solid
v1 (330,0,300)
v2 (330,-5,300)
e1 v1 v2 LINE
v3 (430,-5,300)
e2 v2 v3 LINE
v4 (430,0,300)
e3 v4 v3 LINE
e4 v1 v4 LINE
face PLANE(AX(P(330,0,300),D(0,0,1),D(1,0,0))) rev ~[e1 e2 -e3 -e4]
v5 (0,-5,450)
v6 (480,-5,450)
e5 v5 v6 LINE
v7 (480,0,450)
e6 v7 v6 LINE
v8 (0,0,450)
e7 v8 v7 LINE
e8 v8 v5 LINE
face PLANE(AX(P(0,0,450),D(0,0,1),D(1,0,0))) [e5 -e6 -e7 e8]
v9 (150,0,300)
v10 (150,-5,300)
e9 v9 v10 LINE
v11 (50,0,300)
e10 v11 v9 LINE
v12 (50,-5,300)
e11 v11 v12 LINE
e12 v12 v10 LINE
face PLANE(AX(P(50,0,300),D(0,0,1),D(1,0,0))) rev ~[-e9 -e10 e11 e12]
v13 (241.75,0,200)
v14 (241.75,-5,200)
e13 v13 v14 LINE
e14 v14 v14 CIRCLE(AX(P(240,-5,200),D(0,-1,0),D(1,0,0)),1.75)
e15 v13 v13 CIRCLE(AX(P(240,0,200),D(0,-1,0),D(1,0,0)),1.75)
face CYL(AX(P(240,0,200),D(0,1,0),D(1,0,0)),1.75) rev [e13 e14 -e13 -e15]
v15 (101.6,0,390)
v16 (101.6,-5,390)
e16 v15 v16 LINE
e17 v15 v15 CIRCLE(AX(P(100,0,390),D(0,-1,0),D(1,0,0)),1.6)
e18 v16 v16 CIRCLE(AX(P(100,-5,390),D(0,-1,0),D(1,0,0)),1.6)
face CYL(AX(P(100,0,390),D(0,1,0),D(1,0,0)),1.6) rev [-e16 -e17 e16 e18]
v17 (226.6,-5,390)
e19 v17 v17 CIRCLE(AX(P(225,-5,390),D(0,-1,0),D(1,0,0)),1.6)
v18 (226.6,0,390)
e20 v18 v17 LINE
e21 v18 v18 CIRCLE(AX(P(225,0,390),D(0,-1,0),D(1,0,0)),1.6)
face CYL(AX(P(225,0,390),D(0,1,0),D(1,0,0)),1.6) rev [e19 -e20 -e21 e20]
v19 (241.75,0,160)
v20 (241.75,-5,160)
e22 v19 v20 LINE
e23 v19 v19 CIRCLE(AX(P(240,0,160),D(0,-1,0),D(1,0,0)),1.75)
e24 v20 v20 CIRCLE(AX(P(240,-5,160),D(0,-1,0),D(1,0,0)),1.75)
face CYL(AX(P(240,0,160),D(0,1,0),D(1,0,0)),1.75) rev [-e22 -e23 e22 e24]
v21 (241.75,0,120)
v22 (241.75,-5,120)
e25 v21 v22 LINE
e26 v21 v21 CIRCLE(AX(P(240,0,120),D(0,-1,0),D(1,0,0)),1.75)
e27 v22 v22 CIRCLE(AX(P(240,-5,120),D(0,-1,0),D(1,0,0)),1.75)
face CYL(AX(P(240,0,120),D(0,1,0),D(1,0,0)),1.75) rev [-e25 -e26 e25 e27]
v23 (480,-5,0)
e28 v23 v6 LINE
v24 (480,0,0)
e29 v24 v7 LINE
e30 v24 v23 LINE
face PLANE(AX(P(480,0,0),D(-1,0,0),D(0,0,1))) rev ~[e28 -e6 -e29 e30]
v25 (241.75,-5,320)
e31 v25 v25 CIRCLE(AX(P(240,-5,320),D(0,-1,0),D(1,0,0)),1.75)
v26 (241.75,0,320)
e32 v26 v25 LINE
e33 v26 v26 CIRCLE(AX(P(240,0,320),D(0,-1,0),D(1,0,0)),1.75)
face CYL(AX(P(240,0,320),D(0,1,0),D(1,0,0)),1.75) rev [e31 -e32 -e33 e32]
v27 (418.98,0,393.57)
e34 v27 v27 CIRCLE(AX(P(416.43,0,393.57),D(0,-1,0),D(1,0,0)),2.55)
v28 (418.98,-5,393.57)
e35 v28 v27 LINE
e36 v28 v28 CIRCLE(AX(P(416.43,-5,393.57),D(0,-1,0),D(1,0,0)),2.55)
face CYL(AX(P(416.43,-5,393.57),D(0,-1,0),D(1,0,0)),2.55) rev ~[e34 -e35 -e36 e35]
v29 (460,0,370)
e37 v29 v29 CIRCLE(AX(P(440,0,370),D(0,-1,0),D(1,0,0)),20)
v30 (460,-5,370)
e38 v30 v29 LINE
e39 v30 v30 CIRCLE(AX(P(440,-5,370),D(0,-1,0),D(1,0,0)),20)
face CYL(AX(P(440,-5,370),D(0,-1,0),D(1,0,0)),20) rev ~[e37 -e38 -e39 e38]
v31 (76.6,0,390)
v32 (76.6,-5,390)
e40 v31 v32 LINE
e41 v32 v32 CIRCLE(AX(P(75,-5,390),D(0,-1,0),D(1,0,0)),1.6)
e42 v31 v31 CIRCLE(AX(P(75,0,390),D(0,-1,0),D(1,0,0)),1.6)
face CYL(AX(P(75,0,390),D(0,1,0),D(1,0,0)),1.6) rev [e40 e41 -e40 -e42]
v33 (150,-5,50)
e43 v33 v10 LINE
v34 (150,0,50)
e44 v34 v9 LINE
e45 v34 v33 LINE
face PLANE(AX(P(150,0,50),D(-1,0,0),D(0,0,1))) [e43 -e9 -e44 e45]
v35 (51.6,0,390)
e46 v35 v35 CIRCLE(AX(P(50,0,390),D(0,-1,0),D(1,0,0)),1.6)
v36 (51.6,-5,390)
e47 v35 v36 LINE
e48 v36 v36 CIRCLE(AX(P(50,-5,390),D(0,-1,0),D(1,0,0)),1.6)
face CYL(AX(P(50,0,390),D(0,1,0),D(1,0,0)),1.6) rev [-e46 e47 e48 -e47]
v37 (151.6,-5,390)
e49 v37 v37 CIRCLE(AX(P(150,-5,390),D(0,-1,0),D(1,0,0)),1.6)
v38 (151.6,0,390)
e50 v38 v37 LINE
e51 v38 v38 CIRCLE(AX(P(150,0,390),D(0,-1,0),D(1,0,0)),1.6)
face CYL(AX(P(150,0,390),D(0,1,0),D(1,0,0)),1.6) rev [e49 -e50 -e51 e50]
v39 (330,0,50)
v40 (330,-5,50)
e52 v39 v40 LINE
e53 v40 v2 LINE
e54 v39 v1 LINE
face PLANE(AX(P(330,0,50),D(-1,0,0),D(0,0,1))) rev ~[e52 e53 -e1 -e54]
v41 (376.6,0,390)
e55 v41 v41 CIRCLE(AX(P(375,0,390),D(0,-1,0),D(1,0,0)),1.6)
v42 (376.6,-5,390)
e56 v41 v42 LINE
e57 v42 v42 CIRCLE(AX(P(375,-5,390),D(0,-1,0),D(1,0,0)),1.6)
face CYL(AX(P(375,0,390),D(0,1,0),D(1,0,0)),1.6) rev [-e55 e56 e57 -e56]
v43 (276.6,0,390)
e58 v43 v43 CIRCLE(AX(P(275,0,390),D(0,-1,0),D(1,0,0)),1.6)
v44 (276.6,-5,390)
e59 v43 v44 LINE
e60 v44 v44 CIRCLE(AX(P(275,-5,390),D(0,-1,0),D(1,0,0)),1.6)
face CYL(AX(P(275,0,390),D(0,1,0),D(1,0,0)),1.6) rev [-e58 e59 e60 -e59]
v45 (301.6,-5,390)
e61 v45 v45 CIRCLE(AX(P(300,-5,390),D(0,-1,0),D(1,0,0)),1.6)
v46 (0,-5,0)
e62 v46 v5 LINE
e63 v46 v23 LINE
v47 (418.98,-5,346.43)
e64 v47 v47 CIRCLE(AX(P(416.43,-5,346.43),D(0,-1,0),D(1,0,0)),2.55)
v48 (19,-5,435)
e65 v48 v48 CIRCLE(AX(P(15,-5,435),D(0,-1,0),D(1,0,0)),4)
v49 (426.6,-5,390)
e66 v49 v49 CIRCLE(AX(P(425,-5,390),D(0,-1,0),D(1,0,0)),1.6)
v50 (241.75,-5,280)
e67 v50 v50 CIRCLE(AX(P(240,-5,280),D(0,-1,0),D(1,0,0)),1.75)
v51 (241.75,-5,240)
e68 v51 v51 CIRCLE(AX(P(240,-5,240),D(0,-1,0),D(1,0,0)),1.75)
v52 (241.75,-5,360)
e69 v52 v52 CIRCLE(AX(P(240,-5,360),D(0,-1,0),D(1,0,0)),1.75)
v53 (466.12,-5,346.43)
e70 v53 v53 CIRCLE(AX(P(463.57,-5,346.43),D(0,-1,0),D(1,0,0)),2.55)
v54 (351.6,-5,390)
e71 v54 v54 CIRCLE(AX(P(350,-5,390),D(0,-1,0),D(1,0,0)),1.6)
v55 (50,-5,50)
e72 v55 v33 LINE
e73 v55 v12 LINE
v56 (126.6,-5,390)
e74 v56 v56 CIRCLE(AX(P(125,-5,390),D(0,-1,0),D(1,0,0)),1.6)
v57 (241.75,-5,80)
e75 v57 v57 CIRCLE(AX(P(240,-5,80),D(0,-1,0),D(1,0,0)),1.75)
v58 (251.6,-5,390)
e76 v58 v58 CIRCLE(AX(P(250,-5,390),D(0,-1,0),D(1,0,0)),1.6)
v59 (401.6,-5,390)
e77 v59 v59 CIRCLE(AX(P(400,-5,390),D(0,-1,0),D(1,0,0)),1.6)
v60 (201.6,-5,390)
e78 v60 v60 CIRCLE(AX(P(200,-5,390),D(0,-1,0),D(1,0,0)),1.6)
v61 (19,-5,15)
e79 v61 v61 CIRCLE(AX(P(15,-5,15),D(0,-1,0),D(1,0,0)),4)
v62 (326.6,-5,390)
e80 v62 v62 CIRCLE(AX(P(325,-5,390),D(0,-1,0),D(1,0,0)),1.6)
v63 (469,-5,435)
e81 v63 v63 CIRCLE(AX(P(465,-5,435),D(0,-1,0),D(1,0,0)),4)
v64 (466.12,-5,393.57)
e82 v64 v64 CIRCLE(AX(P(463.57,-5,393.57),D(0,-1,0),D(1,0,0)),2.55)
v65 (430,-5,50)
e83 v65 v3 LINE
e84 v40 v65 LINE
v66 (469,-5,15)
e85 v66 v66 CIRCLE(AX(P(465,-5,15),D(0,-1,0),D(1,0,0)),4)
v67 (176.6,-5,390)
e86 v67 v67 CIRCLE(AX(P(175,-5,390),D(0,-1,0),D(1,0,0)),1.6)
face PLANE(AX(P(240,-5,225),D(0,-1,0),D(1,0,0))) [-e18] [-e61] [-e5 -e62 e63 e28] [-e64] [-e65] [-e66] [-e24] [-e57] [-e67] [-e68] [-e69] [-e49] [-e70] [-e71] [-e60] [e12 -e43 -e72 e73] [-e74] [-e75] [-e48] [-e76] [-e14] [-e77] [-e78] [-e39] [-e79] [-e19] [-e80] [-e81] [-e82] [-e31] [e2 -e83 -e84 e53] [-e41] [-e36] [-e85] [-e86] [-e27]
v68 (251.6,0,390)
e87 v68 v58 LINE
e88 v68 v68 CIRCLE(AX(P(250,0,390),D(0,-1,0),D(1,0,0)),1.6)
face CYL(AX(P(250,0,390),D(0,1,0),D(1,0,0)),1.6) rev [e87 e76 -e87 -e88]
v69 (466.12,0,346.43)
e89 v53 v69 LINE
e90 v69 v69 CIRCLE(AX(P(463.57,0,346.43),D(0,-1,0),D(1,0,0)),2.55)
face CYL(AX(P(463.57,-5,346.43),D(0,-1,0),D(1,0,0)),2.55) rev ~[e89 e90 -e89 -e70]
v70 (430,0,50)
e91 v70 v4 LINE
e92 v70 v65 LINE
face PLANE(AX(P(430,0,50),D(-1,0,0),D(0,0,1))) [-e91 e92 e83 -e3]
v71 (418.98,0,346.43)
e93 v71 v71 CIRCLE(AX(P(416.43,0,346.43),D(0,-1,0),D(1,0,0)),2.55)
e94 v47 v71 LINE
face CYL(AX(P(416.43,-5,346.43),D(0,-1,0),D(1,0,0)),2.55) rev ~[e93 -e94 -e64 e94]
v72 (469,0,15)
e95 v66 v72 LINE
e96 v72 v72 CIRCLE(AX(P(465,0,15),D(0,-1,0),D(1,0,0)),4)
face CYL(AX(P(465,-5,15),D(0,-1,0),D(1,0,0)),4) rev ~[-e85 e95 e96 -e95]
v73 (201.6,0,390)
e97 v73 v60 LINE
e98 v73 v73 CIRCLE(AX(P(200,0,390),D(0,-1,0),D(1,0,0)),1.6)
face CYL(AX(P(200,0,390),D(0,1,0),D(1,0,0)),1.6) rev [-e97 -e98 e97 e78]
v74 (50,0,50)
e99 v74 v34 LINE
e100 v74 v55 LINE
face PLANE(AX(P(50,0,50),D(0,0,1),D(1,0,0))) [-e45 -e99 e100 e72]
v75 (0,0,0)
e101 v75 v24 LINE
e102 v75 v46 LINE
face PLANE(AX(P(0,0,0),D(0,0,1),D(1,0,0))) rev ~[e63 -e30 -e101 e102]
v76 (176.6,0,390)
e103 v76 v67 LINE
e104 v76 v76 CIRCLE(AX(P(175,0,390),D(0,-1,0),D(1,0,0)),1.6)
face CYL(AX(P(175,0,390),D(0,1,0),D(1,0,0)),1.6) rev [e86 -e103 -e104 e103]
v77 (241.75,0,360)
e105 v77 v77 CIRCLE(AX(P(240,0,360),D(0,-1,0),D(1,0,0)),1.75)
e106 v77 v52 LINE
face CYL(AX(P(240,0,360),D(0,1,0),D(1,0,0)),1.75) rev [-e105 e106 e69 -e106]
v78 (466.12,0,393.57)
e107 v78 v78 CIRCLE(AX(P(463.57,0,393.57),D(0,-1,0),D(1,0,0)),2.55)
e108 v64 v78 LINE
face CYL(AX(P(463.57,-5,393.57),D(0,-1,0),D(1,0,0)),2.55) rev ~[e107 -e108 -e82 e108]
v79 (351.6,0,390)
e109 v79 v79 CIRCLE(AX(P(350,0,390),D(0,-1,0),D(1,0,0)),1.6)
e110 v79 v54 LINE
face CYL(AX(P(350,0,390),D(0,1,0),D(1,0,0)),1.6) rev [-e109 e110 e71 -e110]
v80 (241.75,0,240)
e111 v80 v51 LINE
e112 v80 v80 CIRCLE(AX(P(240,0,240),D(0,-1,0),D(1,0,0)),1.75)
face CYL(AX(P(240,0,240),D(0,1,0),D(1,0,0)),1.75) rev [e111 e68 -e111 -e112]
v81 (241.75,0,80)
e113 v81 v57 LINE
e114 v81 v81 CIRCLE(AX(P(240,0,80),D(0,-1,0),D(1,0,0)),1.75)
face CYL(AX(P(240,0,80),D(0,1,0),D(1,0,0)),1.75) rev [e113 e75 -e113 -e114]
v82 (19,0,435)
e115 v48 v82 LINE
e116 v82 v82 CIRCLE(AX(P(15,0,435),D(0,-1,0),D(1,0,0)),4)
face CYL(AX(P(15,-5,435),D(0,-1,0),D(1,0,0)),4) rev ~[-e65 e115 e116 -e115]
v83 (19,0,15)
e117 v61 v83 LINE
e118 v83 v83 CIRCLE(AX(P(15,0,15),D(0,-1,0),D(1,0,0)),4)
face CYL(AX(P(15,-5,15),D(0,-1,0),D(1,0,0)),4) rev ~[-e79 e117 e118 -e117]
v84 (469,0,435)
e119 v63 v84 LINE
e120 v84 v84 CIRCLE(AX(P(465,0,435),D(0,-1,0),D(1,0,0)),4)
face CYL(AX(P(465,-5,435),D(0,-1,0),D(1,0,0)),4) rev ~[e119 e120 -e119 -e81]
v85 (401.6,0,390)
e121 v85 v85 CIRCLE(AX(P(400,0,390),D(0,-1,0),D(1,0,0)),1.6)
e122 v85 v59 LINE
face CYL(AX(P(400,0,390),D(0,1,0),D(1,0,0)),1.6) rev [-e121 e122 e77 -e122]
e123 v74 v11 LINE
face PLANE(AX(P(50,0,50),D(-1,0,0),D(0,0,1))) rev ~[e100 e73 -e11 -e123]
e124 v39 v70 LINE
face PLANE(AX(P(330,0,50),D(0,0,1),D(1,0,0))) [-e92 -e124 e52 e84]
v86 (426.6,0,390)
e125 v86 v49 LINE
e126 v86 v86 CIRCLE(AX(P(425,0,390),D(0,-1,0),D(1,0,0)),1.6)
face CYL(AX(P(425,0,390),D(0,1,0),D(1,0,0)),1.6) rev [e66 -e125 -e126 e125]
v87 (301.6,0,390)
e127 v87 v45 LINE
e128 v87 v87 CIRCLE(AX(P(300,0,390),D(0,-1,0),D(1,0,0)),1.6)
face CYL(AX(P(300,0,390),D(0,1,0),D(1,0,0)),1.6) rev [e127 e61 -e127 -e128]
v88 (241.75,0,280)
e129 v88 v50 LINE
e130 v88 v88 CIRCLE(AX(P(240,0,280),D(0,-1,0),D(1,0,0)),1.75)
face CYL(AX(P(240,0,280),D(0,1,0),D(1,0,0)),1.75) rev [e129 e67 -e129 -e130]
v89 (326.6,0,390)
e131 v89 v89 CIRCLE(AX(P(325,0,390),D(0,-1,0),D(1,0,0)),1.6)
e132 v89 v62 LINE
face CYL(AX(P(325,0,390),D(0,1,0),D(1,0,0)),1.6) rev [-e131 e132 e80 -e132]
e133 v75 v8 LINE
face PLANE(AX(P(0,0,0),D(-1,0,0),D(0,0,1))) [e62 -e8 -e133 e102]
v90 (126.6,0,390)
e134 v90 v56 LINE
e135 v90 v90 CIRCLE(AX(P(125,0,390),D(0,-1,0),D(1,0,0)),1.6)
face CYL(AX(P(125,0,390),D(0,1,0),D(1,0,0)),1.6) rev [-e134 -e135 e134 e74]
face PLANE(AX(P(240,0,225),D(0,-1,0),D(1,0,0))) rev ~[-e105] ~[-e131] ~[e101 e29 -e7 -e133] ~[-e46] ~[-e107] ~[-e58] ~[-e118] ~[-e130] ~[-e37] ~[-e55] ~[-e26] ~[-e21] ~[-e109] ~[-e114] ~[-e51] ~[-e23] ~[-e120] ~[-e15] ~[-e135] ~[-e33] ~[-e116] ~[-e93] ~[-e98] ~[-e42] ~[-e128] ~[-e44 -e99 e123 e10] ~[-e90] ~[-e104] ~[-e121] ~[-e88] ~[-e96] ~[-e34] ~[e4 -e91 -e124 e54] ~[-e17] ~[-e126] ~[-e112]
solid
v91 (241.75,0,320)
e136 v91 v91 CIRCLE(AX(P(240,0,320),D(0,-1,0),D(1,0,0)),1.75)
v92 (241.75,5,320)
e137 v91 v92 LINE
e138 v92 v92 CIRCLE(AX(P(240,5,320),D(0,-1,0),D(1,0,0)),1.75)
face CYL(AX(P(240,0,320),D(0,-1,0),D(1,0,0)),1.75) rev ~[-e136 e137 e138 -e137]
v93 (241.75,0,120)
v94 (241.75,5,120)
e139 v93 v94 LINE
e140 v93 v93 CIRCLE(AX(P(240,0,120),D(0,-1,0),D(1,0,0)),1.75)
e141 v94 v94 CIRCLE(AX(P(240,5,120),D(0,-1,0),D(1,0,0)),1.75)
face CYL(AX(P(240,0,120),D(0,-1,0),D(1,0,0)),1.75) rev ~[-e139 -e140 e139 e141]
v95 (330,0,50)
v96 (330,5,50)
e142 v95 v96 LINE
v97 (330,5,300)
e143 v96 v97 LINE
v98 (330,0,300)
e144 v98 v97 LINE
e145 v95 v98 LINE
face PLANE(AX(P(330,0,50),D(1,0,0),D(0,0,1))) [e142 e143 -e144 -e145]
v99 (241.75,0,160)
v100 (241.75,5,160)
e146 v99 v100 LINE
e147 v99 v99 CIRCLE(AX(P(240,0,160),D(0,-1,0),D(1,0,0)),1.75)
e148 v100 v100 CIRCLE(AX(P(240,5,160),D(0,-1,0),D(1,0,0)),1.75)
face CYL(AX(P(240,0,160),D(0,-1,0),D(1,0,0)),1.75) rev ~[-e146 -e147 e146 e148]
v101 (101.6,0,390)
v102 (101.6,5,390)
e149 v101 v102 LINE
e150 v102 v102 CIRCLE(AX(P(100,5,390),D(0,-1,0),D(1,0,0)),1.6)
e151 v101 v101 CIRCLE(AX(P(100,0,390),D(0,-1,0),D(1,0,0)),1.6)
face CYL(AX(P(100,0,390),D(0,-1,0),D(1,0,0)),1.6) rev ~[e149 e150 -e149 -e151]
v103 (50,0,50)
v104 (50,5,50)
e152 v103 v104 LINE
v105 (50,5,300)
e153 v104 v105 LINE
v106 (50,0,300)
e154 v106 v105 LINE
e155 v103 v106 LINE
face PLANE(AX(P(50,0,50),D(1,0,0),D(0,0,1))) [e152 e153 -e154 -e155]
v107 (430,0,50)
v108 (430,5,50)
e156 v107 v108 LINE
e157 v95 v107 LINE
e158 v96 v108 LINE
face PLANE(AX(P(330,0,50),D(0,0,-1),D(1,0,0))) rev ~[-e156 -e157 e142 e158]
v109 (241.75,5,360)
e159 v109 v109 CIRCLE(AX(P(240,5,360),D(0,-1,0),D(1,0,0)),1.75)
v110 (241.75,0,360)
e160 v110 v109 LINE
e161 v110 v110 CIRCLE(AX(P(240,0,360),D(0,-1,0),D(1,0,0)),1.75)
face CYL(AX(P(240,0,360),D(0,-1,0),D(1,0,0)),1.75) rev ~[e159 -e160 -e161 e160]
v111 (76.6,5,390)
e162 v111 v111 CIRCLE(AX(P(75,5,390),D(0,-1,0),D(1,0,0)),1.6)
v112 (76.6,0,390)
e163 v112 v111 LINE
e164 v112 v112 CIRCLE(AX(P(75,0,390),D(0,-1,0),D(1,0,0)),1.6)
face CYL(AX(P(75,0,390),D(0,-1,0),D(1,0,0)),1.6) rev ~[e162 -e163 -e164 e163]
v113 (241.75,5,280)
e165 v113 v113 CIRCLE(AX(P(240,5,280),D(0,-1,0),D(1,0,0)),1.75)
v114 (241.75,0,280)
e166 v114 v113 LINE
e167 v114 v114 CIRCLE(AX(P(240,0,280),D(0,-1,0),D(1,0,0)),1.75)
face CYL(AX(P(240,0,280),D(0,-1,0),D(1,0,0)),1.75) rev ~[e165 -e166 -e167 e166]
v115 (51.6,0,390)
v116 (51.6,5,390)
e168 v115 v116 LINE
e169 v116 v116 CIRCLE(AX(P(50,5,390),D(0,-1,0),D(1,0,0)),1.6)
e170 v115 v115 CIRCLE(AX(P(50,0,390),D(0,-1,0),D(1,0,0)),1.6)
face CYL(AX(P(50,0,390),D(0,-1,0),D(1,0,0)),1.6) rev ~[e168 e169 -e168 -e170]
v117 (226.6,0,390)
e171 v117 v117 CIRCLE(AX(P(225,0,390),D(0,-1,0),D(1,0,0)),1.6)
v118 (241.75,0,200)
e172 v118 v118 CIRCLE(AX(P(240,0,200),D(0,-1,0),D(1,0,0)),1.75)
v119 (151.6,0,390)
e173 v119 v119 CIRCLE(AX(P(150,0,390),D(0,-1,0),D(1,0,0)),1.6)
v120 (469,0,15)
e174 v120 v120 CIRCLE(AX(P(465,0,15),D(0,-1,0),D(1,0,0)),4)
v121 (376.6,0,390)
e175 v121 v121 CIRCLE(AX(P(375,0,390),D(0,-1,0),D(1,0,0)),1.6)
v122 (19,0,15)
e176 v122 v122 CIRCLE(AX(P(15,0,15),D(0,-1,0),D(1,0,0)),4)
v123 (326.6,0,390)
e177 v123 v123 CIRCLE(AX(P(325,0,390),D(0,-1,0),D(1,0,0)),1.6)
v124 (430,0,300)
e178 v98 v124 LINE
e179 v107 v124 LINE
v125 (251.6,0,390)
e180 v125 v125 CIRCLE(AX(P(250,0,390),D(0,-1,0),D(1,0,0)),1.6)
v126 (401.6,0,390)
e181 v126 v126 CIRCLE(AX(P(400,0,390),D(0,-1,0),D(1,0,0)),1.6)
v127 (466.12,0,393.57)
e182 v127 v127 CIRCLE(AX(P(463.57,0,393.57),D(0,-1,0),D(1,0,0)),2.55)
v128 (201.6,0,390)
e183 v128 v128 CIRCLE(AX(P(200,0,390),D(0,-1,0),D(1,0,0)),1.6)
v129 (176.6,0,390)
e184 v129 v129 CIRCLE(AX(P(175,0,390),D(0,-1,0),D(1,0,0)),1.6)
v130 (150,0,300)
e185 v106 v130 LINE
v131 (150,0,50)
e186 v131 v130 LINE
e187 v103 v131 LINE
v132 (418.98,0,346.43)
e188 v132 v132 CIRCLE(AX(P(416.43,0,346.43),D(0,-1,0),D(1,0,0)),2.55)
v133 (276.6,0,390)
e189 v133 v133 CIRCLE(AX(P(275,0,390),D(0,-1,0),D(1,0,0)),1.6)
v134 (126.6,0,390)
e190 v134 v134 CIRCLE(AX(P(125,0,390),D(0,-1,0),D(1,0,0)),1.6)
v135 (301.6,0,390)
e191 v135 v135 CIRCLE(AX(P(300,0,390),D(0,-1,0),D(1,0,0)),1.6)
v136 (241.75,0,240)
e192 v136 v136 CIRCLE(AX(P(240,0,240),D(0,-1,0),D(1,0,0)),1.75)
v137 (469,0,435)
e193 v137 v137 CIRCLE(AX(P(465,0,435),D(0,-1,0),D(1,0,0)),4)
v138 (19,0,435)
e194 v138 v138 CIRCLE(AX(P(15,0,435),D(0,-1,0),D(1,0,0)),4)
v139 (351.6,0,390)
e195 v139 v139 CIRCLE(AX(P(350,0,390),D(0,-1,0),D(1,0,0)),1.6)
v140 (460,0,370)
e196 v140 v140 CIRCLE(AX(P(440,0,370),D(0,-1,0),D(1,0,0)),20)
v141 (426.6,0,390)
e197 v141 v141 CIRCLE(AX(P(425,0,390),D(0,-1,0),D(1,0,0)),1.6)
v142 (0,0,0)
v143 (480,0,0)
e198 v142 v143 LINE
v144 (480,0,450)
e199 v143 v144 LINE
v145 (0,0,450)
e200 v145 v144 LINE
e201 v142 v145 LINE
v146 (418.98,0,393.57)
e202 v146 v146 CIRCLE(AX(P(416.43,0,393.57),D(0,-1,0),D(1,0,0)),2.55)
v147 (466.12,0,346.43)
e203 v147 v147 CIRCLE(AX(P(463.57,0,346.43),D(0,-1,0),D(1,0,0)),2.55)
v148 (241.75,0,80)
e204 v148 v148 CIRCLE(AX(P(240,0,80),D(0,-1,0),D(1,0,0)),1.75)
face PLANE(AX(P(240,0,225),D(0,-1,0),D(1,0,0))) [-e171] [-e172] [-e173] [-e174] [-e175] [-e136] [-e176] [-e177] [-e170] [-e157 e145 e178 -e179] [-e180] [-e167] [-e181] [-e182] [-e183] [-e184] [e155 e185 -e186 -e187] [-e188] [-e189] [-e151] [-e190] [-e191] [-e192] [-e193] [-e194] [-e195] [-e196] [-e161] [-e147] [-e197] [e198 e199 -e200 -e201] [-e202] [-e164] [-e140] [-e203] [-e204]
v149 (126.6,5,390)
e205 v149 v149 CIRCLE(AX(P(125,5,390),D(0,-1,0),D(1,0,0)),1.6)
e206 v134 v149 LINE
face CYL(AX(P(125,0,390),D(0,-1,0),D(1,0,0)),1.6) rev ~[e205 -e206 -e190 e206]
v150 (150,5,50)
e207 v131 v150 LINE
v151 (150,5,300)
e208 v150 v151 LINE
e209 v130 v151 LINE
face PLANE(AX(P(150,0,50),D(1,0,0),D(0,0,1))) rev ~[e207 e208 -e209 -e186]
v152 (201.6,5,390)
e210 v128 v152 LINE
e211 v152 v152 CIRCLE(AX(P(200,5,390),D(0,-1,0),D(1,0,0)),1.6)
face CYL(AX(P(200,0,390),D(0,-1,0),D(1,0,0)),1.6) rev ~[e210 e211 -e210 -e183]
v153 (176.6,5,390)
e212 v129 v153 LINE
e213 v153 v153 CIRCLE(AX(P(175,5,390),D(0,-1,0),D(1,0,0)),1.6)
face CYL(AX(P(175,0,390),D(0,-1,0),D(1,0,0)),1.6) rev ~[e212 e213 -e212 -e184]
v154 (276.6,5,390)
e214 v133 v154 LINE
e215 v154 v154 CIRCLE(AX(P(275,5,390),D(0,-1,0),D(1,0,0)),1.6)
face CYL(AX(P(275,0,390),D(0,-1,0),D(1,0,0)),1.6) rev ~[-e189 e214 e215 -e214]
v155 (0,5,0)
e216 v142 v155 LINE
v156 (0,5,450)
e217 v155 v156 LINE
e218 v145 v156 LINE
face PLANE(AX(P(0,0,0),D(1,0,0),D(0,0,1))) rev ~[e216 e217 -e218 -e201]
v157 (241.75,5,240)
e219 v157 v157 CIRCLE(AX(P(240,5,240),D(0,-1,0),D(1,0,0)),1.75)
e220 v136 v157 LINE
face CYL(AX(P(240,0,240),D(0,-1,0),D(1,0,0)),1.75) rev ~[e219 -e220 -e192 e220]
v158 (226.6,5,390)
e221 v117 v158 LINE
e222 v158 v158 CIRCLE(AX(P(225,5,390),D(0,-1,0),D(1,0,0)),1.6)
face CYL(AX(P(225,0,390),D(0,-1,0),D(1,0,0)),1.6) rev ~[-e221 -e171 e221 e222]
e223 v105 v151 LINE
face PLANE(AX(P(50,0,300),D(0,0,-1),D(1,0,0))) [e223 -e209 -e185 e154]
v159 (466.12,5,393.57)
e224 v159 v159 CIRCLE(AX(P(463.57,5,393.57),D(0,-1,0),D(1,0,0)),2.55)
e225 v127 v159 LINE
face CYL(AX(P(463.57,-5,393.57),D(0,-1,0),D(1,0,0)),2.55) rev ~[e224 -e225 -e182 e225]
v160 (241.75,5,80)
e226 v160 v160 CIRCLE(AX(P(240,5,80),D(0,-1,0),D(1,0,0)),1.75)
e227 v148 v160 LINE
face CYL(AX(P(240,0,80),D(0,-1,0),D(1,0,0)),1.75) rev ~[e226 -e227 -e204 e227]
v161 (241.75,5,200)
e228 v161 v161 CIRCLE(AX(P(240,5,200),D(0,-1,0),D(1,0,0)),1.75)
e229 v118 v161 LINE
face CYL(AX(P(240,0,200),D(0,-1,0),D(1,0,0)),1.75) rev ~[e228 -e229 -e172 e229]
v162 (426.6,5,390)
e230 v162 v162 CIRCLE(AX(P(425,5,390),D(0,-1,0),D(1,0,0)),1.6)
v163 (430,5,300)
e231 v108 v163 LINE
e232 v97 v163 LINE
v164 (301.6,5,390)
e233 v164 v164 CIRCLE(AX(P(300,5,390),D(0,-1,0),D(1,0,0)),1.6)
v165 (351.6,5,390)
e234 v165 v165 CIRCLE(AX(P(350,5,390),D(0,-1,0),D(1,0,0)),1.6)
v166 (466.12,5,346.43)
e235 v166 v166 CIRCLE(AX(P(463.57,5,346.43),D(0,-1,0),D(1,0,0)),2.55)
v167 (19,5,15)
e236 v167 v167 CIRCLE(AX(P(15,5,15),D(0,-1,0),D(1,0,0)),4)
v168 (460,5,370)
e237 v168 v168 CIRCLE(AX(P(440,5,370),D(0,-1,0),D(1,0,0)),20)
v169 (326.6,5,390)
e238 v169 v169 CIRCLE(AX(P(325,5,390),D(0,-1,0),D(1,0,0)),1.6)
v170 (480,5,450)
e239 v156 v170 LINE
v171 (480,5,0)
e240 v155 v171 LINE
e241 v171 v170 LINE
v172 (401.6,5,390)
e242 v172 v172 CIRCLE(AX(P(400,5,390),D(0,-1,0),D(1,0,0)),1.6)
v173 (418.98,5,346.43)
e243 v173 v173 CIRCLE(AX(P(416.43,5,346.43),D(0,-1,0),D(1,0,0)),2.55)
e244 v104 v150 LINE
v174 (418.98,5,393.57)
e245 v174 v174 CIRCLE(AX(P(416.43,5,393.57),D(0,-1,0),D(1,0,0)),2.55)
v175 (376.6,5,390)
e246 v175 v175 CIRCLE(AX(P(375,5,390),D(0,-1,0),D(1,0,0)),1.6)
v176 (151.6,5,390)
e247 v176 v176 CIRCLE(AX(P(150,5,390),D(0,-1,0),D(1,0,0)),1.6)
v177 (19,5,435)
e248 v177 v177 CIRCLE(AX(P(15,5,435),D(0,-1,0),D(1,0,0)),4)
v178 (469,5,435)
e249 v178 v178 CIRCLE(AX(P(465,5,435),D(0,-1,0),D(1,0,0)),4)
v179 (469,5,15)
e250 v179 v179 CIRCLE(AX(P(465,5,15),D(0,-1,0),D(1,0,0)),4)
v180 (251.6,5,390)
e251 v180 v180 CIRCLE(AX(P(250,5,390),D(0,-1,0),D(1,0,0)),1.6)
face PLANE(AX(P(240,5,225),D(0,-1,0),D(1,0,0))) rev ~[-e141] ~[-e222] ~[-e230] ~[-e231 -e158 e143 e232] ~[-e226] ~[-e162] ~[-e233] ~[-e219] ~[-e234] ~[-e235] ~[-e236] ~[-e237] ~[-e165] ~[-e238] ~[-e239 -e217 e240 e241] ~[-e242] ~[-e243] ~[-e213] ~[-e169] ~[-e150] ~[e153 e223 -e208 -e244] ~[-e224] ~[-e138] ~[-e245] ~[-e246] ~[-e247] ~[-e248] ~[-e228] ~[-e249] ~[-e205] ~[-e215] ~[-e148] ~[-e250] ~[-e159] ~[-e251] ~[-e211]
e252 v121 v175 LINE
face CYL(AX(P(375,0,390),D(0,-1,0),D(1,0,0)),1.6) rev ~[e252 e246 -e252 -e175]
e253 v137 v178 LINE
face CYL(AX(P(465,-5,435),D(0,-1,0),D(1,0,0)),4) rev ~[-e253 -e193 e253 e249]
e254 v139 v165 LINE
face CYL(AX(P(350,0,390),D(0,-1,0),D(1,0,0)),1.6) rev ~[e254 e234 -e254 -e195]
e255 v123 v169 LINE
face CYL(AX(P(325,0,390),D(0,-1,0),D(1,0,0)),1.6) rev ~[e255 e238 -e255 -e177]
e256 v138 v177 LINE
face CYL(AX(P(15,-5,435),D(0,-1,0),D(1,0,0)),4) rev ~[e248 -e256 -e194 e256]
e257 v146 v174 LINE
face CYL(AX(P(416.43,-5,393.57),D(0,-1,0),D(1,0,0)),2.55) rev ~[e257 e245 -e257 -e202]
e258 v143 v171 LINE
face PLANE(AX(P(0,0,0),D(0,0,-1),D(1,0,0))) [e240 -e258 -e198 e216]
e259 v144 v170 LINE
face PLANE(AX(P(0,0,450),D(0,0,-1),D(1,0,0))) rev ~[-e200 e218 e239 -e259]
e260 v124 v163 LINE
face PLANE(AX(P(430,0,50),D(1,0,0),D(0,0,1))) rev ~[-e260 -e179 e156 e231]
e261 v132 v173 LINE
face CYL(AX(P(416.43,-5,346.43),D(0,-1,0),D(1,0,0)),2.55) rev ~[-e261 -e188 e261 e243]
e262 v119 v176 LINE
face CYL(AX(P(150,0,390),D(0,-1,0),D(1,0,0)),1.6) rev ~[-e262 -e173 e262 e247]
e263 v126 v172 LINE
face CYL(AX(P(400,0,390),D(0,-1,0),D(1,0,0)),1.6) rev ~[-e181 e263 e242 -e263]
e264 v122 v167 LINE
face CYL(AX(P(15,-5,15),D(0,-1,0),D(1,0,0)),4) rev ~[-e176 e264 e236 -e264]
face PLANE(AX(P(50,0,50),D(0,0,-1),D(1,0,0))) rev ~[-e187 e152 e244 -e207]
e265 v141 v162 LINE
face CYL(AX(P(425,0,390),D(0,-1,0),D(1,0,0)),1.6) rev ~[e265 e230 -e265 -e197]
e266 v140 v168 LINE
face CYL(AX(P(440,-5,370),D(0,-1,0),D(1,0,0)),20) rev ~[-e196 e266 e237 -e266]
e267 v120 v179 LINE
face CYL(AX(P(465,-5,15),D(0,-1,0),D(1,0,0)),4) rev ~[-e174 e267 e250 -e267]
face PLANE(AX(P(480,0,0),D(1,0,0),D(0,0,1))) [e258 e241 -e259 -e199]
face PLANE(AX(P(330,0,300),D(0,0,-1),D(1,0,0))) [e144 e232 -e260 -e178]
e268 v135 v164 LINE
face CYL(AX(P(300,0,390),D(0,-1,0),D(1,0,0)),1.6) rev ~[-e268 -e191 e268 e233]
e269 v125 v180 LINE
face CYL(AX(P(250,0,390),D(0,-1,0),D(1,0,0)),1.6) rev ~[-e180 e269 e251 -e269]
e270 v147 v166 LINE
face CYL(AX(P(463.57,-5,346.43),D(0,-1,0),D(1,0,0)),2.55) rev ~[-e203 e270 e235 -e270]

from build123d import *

# Parameters (mm, degrees)
F0_W     = 480
F0_H     = 450
F0_W_2   = 100
F0_H_2   = 250
F0_R     = 1.75
F0_R_2   = 1.6
F1_DEPTH = 5
F2_DEPTH = 5
F3_R     = 2.55
F3_R_2   = 20
F3_R_3   = 4
F4_DEPTH = 10.001


with BuildPart() as f1:
    # F0 (on Front) → F1 (new body)
    with BuildSketch(Plane.XZ):
        with Locations((240, 225)):
            Rectangle(F0_W, F0_H)
        with Locations((100, 175)):
            Rectangle(F0_W_2, F0_H_2, mode=Mode.SUBTRACT)
        with Locations((240, 80)):
            Circle(F0_R, mode=Mode.SUBTRACT)
        with Locations((240, 120)):
            Circle(F0_R, mode=Mode.SUBTRACT)
        with Locations((240, 160)):
            Circle(F0_R, mode=Mode.SUBTRACT)
        with Locations((240, 200)):
            Circle(F0_R, mode=Mode.SUBTRACT)
        with Locations((380, 175)):
            Rectangle(F0_W_2, F0_H_2, mode=Mode.SUBTRACT)
        with Locations((50, 390)):
            Circle(F0_R_2, mode=Mode.SUBTRACT)
        with Locations((75, 390)):
            Circle(F0_R_2, mode=Mode.SUBTRACT)
        with Locations((100, 390)):
            Circle(F0_R_2, mode=Mode.SUBTRACT)
        with Locations((125, 390)):
            Circle(F0_R_2, mode=Mode.SUBTRACT)
        with Locations((150, 390)):
            Circle(F0_R_2, mode=Mode.SUBTRACT)
        with Locations((175, 390)):
            Circle(F0_R_2, mode=Mode.SUBTRACT)
        with Locations((200, 390)):
            Circle(F0_R_2, mode=Mode.SUBTRACT)
        with Locations((225, 390)):
            Circle(F0_R_2, mode=Mode.SUBTRACT)
        with Locations((240, 240)):
            Circle(F0_R, mode=Mode.SUBTRACT)
        with Locations((240, 280)):
            Circle(F0_R, mode=Mode.SUBTRACT)
        with Locations((240, 320)):
            Circle(F0_R, mode=Mode.SUBTRACT)
        with Locations((240, 360)):
            Circle(F0_R, mode=Mode.SUBTRACT)
        with Locations((250, 390)):
            Circle(F0_R_2, mode=Mode.SUBTRACT)
        with Locations((275, 390)):
            Circle(F0_R_2, mode=Mode.SUBTRACT)
        with Locations((300, 390)):
            Circle(F0_R_2, mode=Mode.SUBTRACT)
        with Locations((325, 390)):
            Circle(F0_R_2, mode=Mode.SUBTRACT)
        with Locations((350, 390)):
            Circle(F0_R_2, mode=Mode.SUBTRACT)
        with Locations((375, 390)):
            Circle(F0_R_2, mode=Mode.SUBTRACT)
        with Locations((400, 390)):
            Circle(F0_R_2, mode=Mode.SUBTRACT)
        with Locations((425, 390)):
            Circle(F0_R_2, mode=Mode.SUBTRACT)
    extrude(amount=F1_DEPTH)


with BuildPart() as f2:
    # F0 (on Front) → F2 (new body)
    with BuildSketch(Plane.XZ):
        with Locations((240, 225)):
            Rectangle(F0_W, F0_H)
        with Locations((100, 175)):
            Rectangle(F0_W_2, F0_H_2, mode=Mode.SUBTRACT)
        with Locations((240, 80)):
            Circle(F0_R, mode=Mode.SUBTRACT)
        with Locations((240, 120)):
            Circle(F0_R, mode=Mode.SUBTRACT)
        with Locations((240, 160)):
            Circle(F0_R, mode=Mode.SUBTRACT)
        with Locations((240, 200)):
            Circle(F0_R, mode=Mode.SUBTRACT)
        with Locations((380, 175)):
            Rectangle(F0_W_2, F0_H_2, mode=Mode.SUBTRACT)
        with Locations((50, 390)):
            Circle(F0_R_2, mode=Mode.SUBTRACT)
        with Locations((75, 390)):
            Circle(F0_R_2, mode=Mode.SUBTRACT)
        with Locations((100, 390)):
            Circle(F0_R_2, mode=Mode.SUBTRACT)
        with Locations((125, 390)):
            Circle(F0_R_2, mode=Mode.SUBTRACT)
        with Locations((150, 390)):
            Circle(F0_R_2, mode=Mode.SUBTRACT)
        with Locations((175, 390)):
            Circle(F0_R_2, mode=Mode.SUBTRACT)
        with Locations((200, 390)):
            Circle(F0_R_2, mode=Mode.SUBTRACT)
        with Locations((225, 390)):
            Circle(F0_R_2, mode=Mode.SUBTRACT)
        with Locations((240, 240)):
            Circle(F0_R, mode=Mode.SUBTRACT)
        with Locations((240, 280)):
            Circle(F0_R, mode=Mode.SUBTRACT)
        with Locations((240, 320)):
            Circle(F0_R, mode=Mode.SUBTRACT)
        with Locations((240, 360)):
            Circle(F0_R, mode=Mode.SUBTRACT)
        with Locations((250, 390)):
            Circle(F0_R_2, mode=Mode.SUBTRACT)
        with Locations((275, 390)):
            Circle(F0_R_2, mode=Mode.SUBTRACT)
        with Locations((300, 390)):
            Circle(F0_R_2, mode=Mode.SUBTRACT)
        with Locations((325, 390)):
            Circle(F0_R_2, mode=Mode.SUBTRACT)
        with Locations((350, 390)):
            Circle(F0_R_2, mode=Mode.SUBTRACT)
        with Locations((375, 390)):
            Circle(F0_R_2, mode=Mode.SUBTRACT)
        with Locations((400, 390)):
            Circle(F0_R_2, mode=Mode.SUBTRACT)
        with Locations((425, 390)):
            Circle(F0_R_2, mode=Mode.SUBTRACT)
    extrude(amount=-F2_DEPTH)


with BuildPart() as f4_tool:
    # F3 (on face) → F4 (new body, through all)
    with BuildSketch(Plane.XZ.offset(5)):
        with Locations((463.57, 346.43)):
            Circle(F3_R)
        with Locations((416.43, 346.43)):
            Circle(F3_R)
        with Locations((463.57, 393.57)):
            Circle(F3_R)
        with Locations((416.43, 393.57)):
            Circle(F3_R)
        with Locations((440, 370)):
            Circle(F3_R_2)
        with Locations((15, 435)):
            Circle(F3_R_3)
        with Locations((465, 435)):
            Circle(F3_R_3)
        with Locations((465, 15)):
            Circle(F3_R_3)
        with Locations((15, 15)):
            Circle(F3_R_3)
    extrude(amount=-F4_DEPTH)


with BuildPart() as f1_1:
    add(f1.part)

    # F4: cut by f4_tool
    add(f4_tool.part, mode=Mode.SUBTRACT)


with BuildPart() as f2_1:
    add(f2.part)

    # F4: cut by f4_tool
    add(f4_tool.part, mode=Mode.SUBTRACT)


solid = Compound([f1_1.part, f2_1.part])
